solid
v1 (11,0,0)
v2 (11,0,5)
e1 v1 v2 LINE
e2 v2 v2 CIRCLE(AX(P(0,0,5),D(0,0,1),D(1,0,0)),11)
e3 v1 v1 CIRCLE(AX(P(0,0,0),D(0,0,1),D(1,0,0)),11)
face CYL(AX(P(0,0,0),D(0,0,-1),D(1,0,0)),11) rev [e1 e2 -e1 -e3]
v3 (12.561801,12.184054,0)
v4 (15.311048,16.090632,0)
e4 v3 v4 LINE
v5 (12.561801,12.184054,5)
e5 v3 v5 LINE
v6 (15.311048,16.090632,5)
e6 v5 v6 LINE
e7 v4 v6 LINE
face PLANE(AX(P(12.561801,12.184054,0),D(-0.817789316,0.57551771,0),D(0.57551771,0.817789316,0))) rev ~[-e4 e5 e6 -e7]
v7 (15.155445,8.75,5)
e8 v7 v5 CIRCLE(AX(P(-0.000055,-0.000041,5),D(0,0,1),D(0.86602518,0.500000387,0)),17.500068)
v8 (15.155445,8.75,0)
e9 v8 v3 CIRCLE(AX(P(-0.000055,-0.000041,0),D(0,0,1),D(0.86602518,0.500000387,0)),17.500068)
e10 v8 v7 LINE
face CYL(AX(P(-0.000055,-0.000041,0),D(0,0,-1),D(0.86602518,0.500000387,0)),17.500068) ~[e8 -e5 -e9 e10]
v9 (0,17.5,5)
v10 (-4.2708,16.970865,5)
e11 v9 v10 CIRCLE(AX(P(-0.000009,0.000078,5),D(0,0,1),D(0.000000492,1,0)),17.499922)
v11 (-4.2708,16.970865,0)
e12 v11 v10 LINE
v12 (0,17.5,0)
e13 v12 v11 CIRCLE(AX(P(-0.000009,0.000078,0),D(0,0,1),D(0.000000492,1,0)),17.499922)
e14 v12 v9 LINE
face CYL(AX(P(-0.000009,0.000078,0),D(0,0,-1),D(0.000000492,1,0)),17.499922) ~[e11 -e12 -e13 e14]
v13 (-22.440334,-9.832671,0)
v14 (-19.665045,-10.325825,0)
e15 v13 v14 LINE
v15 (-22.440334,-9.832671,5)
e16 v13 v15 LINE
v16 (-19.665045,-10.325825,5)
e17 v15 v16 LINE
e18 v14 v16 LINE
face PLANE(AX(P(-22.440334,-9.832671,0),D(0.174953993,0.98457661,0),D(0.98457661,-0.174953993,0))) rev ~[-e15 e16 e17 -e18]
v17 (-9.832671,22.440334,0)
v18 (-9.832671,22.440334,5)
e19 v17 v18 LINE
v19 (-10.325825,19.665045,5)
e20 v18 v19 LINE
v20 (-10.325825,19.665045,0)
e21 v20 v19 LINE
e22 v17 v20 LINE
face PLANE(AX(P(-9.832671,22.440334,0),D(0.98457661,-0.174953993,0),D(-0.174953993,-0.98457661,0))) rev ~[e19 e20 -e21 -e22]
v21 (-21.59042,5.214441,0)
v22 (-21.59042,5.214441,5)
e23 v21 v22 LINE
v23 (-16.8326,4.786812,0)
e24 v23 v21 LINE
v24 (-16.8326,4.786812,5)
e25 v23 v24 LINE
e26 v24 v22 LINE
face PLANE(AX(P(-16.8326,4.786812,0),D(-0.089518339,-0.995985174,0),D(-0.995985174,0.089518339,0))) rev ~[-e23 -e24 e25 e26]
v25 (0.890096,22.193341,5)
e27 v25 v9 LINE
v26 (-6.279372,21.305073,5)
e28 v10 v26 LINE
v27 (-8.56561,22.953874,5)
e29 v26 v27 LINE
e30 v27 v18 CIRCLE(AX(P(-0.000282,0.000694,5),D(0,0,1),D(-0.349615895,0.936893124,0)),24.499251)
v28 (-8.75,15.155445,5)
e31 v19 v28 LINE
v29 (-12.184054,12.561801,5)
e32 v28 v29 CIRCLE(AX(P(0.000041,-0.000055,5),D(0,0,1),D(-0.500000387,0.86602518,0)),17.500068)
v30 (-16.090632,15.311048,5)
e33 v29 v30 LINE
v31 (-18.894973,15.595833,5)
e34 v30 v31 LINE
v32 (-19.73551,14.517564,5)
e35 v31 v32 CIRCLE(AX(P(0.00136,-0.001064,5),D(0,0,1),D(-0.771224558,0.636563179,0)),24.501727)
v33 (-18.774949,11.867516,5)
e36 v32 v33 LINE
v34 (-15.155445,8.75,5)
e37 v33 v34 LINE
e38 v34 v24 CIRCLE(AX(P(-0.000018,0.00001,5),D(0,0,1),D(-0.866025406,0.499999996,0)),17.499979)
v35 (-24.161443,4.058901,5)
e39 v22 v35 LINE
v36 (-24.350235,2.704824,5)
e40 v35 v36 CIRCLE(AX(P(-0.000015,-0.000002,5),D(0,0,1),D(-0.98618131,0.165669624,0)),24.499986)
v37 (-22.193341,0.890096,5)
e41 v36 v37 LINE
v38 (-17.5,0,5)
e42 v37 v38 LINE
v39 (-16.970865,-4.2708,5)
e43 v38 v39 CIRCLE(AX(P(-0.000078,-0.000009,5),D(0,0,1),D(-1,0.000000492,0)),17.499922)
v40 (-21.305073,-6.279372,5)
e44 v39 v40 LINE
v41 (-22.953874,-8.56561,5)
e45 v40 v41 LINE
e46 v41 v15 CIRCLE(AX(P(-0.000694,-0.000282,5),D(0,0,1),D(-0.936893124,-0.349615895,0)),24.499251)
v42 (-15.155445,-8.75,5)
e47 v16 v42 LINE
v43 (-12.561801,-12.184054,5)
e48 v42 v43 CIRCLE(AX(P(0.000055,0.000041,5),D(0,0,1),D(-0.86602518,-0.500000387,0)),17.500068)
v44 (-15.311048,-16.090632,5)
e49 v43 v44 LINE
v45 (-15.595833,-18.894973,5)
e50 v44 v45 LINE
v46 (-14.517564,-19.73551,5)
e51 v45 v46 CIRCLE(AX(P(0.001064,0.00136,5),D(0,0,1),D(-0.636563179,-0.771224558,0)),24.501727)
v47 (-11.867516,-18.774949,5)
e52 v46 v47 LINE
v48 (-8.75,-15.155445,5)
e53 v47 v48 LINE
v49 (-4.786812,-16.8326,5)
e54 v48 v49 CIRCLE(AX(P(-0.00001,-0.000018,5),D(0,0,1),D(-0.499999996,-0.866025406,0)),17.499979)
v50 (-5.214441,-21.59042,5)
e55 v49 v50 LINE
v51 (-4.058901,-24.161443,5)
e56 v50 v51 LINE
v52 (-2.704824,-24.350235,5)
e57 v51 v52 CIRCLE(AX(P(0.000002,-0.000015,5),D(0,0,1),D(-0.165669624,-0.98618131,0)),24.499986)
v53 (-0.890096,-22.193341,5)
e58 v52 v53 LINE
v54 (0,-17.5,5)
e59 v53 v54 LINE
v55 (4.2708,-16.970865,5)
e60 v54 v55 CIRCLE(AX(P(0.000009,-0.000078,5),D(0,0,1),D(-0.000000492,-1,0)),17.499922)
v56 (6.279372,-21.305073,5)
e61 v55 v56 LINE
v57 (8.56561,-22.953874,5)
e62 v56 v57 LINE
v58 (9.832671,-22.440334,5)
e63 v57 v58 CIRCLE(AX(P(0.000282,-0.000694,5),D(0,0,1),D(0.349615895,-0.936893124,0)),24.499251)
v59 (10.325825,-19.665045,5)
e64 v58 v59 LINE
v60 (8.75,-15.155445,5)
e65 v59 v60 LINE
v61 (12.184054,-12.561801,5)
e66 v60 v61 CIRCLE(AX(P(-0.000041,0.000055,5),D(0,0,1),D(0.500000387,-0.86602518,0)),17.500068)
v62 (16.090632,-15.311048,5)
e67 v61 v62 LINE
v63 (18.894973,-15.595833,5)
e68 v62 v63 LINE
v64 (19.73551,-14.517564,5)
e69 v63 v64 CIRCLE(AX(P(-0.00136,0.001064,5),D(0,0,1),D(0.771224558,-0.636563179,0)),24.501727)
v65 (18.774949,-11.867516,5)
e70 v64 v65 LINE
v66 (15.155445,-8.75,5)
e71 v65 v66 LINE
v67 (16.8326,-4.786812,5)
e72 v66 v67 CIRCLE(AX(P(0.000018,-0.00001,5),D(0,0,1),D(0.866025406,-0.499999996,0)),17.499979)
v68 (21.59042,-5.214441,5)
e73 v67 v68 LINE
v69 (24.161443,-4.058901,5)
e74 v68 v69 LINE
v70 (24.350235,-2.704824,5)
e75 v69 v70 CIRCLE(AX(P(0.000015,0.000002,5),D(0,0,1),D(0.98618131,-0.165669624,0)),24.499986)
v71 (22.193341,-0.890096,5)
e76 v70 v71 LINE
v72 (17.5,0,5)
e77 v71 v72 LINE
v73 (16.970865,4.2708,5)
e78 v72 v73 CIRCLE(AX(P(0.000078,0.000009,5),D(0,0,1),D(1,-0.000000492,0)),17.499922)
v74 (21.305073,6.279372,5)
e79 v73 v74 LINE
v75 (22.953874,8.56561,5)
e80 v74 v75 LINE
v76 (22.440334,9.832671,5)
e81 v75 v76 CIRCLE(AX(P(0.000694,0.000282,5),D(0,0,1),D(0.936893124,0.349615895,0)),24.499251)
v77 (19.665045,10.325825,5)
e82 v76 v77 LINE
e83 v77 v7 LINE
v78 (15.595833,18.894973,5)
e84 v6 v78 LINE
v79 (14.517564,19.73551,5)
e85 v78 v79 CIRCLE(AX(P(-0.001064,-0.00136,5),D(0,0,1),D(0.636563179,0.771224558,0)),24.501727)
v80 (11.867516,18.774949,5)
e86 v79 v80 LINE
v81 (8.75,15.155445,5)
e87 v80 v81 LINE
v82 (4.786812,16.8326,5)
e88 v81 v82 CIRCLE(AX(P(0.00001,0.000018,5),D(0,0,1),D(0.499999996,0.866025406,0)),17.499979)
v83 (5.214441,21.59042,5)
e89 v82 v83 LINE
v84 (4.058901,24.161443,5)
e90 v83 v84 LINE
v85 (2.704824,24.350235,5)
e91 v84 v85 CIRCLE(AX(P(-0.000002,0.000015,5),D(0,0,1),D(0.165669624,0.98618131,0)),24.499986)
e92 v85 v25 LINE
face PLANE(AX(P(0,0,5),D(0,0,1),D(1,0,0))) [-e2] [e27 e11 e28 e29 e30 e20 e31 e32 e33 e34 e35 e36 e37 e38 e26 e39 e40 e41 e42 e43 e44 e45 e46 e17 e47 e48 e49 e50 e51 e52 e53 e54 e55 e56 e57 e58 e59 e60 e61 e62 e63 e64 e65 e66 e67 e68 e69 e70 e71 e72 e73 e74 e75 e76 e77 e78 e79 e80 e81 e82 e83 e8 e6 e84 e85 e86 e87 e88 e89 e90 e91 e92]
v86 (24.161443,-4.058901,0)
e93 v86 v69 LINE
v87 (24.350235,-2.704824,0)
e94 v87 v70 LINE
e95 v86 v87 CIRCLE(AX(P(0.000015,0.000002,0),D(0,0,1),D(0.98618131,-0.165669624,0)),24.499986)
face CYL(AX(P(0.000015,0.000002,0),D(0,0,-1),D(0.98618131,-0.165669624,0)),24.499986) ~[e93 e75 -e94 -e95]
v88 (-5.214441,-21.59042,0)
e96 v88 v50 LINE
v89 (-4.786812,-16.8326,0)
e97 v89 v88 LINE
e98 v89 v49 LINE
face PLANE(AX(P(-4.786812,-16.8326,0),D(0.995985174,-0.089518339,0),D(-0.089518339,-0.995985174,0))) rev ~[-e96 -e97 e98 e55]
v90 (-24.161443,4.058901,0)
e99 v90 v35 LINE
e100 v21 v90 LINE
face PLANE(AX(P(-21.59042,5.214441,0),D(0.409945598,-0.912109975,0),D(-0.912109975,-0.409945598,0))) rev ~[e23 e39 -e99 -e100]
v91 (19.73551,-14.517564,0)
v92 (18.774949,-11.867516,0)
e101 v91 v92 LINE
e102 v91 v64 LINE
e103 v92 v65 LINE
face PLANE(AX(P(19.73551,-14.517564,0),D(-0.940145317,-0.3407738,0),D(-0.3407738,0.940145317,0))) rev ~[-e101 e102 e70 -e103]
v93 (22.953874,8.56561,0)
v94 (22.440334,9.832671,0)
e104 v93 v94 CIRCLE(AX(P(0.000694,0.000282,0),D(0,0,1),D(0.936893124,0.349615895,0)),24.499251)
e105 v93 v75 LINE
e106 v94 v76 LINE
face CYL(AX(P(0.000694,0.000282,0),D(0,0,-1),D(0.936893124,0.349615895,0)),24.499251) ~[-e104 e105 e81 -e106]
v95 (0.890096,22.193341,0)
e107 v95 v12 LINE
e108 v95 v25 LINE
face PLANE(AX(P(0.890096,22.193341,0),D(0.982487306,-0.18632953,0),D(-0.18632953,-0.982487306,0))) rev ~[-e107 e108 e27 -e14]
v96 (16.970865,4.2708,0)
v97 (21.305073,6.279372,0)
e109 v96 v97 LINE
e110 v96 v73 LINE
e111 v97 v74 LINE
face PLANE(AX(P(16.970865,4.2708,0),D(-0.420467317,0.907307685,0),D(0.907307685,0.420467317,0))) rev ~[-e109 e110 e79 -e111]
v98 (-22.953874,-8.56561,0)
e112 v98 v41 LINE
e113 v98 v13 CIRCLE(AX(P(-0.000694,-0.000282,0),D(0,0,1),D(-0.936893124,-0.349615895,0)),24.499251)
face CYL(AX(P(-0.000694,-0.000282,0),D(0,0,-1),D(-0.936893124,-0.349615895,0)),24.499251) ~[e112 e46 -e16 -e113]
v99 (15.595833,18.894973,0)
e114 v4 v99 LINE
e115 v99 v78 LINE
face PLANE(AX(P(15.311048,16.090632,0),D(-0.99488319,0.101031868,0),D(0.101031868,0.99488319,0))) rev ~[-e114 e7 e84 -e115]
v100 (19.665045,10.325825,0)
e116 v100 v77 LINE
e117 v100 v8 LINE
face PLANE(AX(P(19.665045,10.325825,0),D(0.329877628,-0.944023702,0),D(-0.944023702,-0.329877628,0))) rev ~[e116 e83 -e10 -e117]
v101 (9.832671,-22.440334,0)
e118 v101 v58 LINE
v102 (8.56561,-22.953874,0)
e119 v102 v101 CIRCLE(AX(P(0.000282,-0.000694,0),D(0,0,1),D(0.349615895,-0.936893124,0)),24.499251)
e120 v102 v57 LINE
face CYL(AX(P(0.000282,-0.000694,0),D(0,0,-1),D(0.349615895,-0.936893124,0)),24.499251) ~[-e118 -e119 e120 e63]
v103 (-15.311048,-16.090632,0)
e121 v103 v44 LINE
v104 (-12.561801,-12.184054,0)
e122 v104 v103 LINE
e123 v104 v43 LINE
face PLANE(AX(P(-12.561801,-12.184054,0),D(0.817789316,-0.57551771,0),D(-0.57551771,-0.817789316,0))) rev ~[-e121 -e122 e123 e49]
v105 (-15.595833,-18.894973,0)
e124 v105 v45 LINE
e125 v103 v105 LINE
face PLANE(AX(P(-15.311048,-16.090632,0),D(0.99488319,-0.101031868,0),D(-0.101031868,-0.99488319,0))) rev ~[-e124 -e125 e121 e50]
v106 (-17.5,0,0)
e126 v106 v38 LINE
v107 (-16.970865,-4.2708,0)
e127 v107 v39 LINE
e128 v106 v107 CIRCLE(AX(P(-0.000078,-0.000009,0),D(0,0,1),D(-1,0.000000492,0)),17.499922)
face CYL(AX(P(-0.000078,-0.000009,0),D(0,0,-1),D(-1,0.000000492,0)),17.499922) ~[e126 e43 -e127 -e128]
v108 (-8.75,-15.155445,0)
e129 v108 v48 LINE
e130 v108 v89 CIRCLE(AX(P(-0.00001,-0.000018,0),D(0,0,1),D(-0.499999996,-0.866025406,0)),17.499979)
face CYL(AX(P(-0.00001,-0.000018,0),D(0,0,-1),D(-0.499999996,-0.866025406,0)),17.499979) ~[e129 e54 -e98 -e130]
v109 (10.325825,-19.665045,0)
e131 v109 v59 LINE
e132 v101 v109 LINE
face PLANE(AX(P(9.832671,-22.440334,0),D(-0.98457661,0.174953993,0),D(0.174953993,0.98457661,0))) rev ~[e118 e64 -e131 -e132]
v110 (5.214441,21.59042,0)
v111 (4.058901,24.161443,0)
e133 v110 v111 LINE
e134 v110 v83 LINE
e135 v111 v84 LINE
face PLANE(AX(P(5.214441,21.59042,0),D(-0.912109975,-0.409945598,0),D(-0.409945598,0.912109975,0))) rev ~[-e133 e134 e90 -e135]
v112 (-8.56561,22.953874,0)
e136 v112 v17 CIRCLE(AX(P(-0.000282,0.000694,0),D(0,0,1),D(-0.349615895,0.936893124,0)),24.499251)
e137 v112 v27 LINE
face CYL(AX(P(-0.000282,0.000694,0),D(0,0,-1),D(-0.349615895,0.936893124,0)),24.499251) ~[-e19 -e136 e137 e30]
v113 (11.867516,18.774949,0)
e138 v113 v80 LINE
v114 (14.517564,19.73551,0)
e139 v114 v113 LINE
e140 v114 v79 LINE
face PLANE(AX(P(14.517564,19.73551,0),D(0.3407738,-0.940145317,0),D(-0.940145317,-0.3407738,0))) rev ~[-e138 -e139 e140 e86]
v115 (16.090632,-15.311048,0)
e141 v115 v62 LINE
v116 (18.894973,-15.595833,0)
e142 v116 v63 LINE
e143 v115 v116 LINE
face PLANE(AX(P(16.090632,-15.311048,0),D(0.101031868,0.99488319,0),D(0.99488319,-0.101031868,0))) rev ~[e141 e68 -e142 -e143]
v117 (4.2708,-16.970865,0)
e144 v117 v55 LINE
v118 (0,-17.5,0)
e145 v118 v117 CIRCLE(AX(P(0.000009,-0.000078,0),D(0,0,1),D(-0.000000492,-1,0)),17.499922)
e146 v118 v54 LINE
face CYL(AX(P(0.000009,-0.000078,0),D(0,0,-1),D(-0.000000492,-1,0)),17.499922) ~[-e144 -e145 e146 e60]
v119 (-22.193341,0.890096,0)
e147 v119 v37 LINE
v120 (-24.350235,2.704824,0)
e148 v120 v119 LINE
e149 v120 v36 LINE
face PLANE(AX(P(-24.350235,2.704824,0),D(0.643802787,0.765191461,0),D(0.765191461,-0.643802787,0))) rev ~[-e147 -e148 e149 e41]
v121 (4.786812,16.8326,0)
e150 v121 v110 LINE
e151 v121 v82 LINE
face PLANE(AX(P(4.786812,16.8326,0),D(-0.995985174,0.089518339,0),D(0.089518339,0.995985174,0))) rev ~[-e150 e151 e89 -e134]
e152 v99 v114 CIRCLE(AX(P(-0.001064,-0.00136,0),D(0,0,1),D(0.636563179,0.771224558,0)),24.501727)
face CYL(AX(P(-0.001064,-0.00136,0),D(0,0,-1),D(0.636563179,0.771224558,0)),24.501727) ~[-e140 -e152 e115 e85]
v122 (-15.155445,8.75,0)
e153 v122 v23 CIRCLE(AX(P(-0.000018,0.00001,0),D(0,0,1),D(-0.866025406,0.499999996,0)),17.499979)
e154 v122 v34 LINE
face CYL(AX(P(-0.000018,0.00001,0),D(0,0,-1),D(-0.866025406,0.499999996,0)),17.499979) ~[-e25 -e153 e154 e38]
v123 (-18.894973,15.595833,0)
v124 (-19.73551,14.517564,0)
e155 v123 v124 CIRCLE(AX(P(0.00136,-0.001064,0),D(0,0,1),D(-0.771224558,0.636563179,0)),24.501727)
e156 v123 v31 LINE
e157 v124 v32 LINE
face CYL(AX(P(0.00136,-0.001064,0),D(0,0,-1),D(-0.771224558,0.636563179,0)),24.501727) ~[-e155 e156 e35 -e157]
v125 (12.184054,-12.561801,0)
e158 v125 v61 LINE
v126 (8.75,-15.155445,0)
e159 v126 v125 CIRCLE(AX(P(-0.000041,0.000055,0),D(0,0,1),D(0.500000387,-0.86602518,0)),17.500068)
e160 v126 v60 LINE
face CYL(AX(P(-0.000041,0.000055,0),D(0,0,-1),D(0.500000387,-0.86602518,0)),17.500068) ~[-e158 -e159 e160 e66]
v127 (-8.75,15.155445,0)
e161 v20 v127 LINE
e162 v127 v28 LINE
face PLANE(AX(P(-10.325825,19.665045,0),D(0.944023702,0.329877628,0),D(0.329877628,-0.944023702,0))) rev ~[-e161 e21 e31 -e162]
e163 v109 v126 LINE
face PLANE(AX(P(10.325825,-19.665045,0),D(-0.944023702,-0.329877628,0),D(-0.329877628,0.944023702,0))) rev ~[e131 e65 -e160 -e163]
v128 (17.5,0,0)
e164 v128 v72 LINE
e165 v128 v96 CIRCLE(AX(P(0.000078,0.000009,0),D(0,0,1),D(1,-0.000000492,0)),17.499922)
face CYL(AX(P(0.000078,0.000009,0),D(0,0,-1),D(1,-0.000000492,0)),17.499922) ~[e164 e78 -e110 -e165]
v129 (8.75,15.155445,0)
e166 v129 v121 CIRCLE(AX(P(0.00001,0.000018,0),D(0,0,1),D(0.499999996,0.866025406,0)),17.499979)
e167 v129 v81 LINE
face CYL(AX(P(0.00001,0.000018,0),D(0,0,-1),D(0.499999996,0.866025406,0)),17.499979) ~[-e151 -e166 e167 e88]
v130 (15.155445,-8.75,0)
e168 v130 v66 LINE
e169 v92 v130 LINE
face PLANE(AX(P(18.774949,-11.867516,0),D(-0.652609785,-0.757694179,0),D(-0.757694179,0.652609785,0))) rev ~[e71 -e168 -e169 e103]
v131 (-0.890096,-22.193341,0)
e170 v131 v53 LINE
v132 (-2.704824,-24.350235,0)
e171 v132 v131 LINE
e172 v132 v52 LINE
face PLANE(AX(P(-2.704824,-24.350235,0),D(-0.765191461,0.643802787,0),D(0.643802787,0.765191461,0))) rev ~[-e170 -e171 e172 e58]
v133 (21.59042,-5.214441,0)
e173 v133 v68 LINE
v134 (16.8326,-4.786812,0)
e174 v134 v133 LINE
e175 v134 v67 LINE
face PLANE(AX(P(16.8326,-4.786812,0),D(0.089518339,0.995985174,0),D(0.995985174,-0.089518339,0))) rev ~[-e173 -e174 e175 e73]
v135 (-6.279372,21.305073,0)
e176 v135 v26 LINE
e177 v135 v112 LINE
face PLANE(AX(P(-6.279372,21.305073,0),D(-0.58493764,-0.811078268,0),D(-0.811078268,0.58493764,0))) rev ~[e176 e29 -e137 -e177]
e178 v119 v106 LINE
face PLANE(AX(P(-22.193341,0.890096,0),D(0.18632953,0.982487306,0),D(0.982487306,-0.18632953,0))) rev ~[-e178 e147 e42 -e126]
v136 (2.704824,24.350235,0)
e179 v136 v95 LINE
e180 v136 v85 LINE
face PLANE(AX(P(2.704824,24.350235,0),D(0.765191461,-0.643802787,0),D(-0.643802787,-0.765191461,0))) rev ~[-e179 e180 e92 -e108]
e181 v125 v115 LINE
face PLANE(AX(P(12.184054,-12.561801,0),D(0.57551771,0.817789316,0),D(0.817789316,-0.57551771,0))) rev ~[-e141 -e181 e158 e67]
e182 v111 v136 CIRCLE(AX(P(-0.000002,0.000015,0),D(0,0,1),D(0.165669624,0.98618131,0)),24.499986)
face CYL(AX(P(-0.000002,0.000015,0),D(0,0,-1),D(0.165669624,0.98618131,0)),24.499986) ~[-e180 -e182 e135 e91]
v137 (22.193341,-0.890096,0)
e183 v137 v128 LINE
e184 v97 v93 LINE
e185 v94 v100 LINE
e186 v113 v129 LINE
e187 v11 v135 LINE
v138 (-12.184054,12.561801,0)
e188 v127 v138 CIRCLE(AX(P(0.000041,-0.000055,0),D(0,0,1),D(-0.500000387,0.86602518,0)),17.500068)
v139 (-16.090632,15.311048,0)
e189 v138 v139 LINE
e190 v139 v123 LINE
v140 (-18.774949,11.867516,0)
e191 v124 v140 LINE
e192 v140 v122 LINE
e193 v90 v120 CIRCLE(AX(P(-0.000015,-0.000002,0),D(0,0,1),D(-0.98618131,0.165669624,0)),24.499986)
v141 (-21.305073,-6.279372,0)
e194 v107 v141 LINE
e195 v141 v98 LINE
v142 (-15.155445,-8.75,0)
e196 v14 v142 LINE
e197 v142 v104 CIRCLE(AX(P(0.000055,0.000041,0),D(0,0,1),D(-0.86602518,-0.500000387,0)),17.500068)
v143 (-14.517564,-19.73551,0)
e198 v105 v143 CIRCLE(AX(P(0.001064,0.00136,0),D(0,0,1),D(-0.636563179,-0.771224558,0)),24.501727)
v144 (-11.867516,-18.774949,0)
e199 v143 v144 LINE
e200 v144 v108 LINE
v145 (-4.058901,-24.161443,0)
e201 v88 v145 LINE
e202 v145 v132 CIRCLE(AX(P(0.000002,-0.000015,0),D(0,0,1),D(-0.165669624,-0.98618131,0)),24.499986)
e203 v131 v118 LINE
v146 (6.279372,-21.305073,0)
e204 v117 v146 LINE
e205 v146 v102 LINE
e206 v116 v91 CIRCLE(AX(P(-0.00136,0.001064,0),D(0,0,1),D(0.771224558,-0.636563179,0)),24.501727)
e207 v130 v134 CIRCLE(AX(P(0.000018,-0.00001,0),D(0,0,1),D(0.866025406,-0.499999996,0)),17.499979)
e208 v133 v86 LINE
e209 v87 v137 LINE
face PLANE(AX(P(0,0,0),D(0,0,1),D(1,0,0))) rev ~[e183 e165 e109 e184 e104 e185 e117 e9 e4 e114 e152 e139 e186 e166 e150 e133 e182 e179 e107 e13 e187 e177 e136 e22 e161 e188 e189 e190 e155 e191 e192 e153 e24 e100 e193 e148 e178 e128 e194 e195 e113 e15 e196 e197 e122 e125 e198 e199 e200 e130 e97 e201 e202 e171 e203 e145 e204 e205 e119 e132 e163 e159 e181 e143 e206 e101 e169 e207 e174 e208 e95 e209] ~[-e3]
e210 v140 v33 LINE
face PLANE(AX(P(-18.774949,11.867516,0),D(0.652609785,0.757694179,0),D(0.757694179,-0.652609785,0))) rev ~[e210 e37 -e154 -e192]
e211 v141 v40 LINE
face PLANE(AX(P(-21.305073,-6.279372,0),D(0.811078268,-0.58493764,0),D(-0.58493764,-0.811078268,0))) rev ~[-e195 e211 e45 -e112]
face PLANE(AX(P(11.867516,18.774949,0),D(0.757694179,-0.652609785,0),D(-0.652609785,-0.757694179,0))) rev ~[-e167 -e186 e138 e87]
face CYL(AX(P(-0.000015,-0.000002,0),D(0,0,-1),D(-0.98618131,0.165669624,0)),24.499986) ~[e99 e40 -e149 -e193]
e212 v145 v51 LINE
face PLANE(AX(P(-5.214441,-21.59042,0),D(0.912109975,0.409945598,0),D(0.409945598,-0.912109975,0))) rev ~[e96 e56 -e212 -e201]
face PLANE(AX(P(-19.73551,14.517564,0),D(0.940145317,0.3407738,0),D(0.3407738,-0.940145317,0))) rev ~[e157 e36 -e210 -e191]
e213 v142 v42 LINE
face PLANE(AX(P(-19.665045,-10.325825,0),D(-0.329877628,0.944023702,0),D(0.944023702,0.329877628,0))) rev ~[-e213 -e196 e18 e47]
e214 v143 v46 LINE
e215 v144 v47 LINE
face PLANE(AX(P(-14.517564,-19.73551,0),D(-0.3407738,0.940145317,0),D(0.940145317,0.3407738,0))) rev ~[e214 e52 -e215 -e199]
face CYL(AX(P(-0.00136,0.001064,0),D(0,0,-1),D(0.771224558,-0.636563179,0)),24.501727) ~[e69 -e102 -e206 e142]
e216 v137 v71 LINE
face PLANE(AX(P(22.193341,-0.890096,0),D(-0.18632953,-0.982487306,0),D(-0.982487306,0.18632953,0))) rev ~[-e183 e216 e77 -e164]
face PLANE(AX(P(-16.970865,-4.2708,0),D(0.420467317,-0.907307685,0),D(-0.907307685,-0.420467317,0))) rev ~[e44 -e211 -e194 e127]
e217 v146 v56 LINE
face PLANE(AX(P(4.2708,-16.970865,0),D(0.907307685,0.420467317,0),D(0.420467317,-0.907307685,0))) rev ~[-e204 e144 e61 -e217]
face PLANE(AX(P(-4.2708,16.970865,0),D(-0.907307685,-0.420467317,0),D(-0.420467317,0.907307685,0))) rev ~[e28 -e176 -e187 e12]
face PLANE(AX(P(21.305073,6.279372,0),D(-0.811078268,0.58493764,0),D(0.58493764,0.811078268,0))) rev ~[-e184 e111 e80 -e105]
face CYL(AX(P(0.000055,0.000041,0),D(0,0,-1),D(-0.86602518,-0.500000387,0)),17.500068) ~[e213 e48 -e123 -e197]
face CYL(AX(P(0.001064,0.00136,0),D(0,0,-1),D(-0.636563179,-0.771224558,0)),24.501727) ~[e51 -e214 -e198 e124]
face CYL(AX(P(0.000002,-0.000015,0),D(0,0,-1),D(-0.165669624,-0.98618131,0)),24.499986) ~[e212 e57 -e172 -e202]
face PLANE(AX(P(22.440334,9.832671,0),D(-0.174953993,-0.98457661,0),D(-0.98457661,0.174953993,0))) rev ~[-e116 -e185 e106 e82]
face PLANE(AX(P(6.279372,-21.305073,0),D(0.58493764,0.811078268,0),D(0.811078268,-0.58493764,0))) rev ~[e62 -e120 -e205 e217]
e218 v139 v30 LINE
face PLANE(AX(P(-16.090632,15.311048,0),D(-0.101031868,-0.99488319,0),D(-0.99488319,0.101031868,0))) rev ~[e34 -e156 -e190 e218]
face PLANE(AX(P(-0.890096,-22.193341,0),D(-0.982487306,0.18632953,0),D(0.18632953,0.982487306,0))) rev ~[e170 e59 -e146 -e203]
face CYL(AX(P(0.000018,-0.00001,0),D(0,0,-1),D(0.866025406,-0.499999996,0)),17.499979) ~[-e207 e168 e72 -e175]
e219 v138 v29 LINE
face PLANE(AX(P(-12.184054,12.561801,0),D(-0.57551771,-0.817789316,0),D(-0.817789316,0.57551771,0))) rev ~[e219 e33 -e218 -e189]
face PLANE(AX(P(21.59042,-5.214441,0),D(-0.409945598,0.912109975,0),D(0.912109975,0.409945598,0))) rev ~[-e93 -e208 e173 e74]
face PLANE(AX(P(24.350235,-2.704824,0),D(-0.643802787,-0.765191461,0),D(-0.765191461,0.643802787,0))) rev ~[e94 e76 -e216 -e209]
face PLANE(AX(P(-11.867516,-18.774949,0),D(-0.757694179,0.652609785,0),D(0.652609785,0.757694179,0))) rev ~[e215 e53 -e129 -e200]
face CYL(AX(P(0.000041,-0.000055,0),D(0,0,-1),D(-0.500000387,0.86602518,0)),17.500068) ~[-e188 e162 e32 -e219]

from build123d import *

# Parameters (mm, degrees)
F0_R     = 11
F1_DEPTH = 5


with BuildPart() as f1:
    # F0 (on Top) → F1 (new body)
    with BuildSketch(Plane.XY):
        with BuildLine():
            ThreePointArc((16.8326, -4.786812), (17.332347, -2.416557), (17.5, 0))
            ThreePointArc((17.5, 0), (17.367213, 2.151727), (16.970865, 4.2708))
            ThreePointArc((16.970865, 4.2708), (16.218531, 6.573374), (15.155445, 8.75))
            ThreePointArc((15.155445, 8.75), (13.964584, 10.547056), (12.561801, 12.184054))
            ThreePointArc((12.561801, 12.184054), (10.758973, 13.801974), (8.75, 15.155445))
            ThreePointArc((8.75, 15.155445), (6.820156, 16.116311), (4.786812, 16.8326))
            ThreePointArc((4.786812, 16.8326), (2.416557, 17.332347), (0, 17.5))
            ThreePointArc((0, 17.5), (-2.151727, 17.367213), (-4.2708, 16.970865))
            ThreePointArc((-4.2708, 16.970865), (-6.573374, 16.218531), (-8.75, 15.155445))
            ThreePointArc((-8.75, 15.155445), (-10.547056, 13.964584), (-12.184054, 12.561801))
            ThreePointArc((-12.184054, 12.561801), (-13.801974, 10.758973), (-15.155445, 8.75))
            ThreePointArc((-15.155445, 8.75), (-16.116311, 6.820156), (-16.8326, 4.786812))
            ThreePointArc((-16.8326, 4.786812), (-17.332347, 2.416557), (-17.5, 0))
            ThreePointArc((-17.5, 0), (-17.367213, -2.151727), (-16.970865, -4.2708))
            ThreePointArc((-16.970865, -4.2708), (-16.218531, -6.573374), (-15.155445, -8.75))
            ThreePointArc((-15.155445, -8.75), (-13.964584, -10.547056), (-12.561801, -12.184054))
            ThreePointArc((-12.561801, -12.184054), (-10.758973, -13.801974), (-8.75, -15.155445))
            ThreePointArc((-8.75, -15.155445), (-6.820156, -16.116311), (-4.786812, -16.8326))
            ThreePointArc((-4.786812, -16.8326), (-2.416557, -17.332347), (0, -17.5))
            ThreePointArc((0, -17.5), (2.151727, -17.367213), (4.2708, -16.970865))
            ThreePointArc((4.2708, -16.970865), (6.573374, -16.218531), (8.75, -15.155445))
            ThreePointArc((8.75, -15.155445), (10.547056, -13.964584), (12.184054, -12.561801))
            ThreePointArc((12.184054, -12.561801), (13.801974, -10.758973), (15.155445, -8.75))
            ThreePointArc((15.155445, -8.75), (16.116311, -6.820156), (16.8326, -4.786812))
        make_face()
        Circle(F0_R, mode=Mode.SUBTRACT)
        with BuildLine():
            Line((22.193341, -0.890096), (17.5, 0))
            ThreePointArc((17.5, 0), (17.332347, -2.416557), (16.8326, -4.786812))
            Line((16.8326, -4.786812), (21.59042, -5.214441))
            Line((21.59042, -5.214441), (24.161443, -4.058901))
            ThreePointArc((24.161443, -4.058901), (24.265286, -3.38318), (24.350235, -2.704824))
            Line((24.350235, -2.704824), (22.193341, -0.890096))
        make_face()
        with BuildLine():
            ThreePointArc((15.155445, 8.75), (16.218531, 6.573374), (16.970865, 4.2708))
            Line((16.970865, 4.2708), (21.305073, 6.279372))
            Line((21.305073, 6.279372), (22.953874, 8.56561))
            ThreePointArc((22.953874, 8.56561), (22.705944, 9.202724), (22.440334, 9.832671))
            Line((22.440334, 9.832671), (19.665045, 10.325825))
            Line((19.665045, 10.325825), (15.155445, 8.75))
        make_face()
        with BuildLine():
            Line((18.774949, -11.867516), (15.155445, -8.75))
            ThreePointArc((15.155445, -8.75), (13.801974, -10.758973), (12.184054, -12.561801))
            Line((12.184054, -12.561801), (16.090632, -15.311048))
            Line((16.090632, -15.311048), (18.894973, -15.595833))
            ThreePointArc((18.894973, -15.595833), (19.322764, -15.062562), (19.73551, -14.517564))
            Line((19.73551, -14.517564), (18.774949, -11.867516))
        make_face()
        with BuildLine():
            ThreePointArc((8.75, 15.155445), (10.758973, 13.801974), (12.561801, 12.184054))
            Line((12.561801, 12.184054), (15.311048, 16.090632))
            Line((15.311048, 16.090632), (15.595833, 18.894973))
            ThreePointArc((15.595833, 18.894973), (15.062562, 19.322764), (14.517564, 19.73551))
            Line((14.517564, 19.73551), (11.867516, 18.774949))
            Line((11.867516, 18.774949), (8.75, 15.155445))
        make_face()
        with BuildLine():
            Line((10.325825, -19.665045), (8.75, -15.155445))
            ThreePointArc((8.75, -15.155445), (6.573374, -16.218531), (4.2708, -16.970865))
            Line((4.2708, -16.970865), (6.279372, -21.305073))
            Line((6.279372, -21.305073), (8.56561, -22.953874))
            ThreePointArc((8.56561, -22.953874), (9.202724, -22.705944), (9.832671, -22.440334))
            Line((9.832671, -22.440334), (10.325825, -19.665045))
        make_face()
        with BuildLine():
            ThreePointArc((0, 17.5), (2.416557, 17.332347), (4.786812, 16.8326))
            Line((4.786812, 16.8326), (5.214441, 21.59042))
            Line((5.214441, 21.59042), (4.058901, 24.161443))
            ThreePointArc((4.058901, 24.161443), (3.38318, 24.265286), (2.704824, 24.350235))
            Line((2.704824, 24.350235), (0.890096, 22.193341))
            Line((0.890096, 22.193341), (0, 17.5))
        make_face()
        with BuildLine():
            Line((-0.890096, -22.193341), (0, -17.5))
            ThreePointArc((0, -17.5), (-2.416557, -17.332347), (-4.786812, -16.8326))
            Line((-4.786812, -16.8326), (-5.214441, -21.59042))
            Line((-5.214441, -21.59042), (-4.058901, -24.161443))
            ThreePointArc((-4.058901, -24.161443), (-3.38318, -24.265286), (-2.704824, -24.350235))
            Line((-2.704824, -24.350235), (-0.890096, -22.193341))
        make_face()
        with BuildLine():
            ThreePointArc((-8.75, 15.155445), (-6.573374, 16.218531), (-4.2708, 16.970865))
            Line((-4.2708, 16.970865), (-6.279372, 21.305073))
            Line((-6.279372, 21.305073), (-8.56561, 22.953874))
            ThreePointArc((-8.56561, 22.953874), (-9.202724, 22.705944), (-9.832671, 22.440334))
            Line((-9.832671, 22.440334), (-10.325825, 19.665045))
            Line((-10.325825, 19.665045), (-8.75, 15.155445))
        make_face()
        with BuildLine():
            Line((-11.867516, -18.774949), (-8.75, -15.155445))
            ThreePointArc((-8.75, -15.155445), (-10.758973, -13.801974), (-12.561801, -12.184054))
            Line((-12.561801, -12.184054), (-15.311048, -16.090632))
            Line((-15.311048, -16.090632), (-15.595833, -18.894973))
            ThreePointArc((-15.595833, -18.894973), (-15.062562, -19.322764), (-14.517564, -19.73551))
            Line((-14.517564, -19.73551), (-11.867516, -18.774949))
        make_face()
        with BuildLine():
            ThreePointArc((-15.155445, 8.75), (-13.801974, 10.758973), (-12.184054, 12.561801))
            Line((-12.184054, 12.561801), (-16.090632, 15.311048))
            Line((-16.090632, 15.311048), (-18.894973, 15.595833))
            ThreePointArc((-18.894973, 15.595833), (-19.322764, 15.062562), (-19.73551, 14.517564))
            Line((-19.73551, 14.517564), (-18.774949, 11.867516))
            Line((-18.774949, 11.867516), (-15.155445, 8.75))
        make_face()
        with BuildLine():
            Line((-19.665045, -10.325825), (-15.155445, -8.75))
            ThreePointArc((-15.155445, -8.75), (-16.218531, -6.573374), (-16.970865, -4.2708))
            Line((-16.970865, -4.2708), (-21.305073, -6.279372))
            Line((-21.305073, -6.279372), (-22.953874, -8.56561))
            ThreePointArc((-22.953874, -8.56561), (-22.705944, -9.202724), (-22.440334, -9.832671))
            Line((-22.440334, -9.832671), (-19.665045, -10.325825))
        make_face()
        with BuildLine():
            ThreePointArc((-17.5, 0), (-17.332347, 2.416557), (-16.8326, 4.786812))
            Line((-16.8326, 4.786812), (-21.59042, 5.214441))
            Line((-21.59042, 5.214441), (-24.161443, 4.058901))
            ThreePointArc((-24.161443, 4.058901), (-24.265286, 3.38318), (-24.350235, 2.704824))
            Line((-24.350235, 2.704824), (-22.193341, 0.890096))
            Line((-22.193341, 0.890096), (-17.5, 0))
        make_face()
    extrude(amount=F1_DEPTH)


solid = f1.part
